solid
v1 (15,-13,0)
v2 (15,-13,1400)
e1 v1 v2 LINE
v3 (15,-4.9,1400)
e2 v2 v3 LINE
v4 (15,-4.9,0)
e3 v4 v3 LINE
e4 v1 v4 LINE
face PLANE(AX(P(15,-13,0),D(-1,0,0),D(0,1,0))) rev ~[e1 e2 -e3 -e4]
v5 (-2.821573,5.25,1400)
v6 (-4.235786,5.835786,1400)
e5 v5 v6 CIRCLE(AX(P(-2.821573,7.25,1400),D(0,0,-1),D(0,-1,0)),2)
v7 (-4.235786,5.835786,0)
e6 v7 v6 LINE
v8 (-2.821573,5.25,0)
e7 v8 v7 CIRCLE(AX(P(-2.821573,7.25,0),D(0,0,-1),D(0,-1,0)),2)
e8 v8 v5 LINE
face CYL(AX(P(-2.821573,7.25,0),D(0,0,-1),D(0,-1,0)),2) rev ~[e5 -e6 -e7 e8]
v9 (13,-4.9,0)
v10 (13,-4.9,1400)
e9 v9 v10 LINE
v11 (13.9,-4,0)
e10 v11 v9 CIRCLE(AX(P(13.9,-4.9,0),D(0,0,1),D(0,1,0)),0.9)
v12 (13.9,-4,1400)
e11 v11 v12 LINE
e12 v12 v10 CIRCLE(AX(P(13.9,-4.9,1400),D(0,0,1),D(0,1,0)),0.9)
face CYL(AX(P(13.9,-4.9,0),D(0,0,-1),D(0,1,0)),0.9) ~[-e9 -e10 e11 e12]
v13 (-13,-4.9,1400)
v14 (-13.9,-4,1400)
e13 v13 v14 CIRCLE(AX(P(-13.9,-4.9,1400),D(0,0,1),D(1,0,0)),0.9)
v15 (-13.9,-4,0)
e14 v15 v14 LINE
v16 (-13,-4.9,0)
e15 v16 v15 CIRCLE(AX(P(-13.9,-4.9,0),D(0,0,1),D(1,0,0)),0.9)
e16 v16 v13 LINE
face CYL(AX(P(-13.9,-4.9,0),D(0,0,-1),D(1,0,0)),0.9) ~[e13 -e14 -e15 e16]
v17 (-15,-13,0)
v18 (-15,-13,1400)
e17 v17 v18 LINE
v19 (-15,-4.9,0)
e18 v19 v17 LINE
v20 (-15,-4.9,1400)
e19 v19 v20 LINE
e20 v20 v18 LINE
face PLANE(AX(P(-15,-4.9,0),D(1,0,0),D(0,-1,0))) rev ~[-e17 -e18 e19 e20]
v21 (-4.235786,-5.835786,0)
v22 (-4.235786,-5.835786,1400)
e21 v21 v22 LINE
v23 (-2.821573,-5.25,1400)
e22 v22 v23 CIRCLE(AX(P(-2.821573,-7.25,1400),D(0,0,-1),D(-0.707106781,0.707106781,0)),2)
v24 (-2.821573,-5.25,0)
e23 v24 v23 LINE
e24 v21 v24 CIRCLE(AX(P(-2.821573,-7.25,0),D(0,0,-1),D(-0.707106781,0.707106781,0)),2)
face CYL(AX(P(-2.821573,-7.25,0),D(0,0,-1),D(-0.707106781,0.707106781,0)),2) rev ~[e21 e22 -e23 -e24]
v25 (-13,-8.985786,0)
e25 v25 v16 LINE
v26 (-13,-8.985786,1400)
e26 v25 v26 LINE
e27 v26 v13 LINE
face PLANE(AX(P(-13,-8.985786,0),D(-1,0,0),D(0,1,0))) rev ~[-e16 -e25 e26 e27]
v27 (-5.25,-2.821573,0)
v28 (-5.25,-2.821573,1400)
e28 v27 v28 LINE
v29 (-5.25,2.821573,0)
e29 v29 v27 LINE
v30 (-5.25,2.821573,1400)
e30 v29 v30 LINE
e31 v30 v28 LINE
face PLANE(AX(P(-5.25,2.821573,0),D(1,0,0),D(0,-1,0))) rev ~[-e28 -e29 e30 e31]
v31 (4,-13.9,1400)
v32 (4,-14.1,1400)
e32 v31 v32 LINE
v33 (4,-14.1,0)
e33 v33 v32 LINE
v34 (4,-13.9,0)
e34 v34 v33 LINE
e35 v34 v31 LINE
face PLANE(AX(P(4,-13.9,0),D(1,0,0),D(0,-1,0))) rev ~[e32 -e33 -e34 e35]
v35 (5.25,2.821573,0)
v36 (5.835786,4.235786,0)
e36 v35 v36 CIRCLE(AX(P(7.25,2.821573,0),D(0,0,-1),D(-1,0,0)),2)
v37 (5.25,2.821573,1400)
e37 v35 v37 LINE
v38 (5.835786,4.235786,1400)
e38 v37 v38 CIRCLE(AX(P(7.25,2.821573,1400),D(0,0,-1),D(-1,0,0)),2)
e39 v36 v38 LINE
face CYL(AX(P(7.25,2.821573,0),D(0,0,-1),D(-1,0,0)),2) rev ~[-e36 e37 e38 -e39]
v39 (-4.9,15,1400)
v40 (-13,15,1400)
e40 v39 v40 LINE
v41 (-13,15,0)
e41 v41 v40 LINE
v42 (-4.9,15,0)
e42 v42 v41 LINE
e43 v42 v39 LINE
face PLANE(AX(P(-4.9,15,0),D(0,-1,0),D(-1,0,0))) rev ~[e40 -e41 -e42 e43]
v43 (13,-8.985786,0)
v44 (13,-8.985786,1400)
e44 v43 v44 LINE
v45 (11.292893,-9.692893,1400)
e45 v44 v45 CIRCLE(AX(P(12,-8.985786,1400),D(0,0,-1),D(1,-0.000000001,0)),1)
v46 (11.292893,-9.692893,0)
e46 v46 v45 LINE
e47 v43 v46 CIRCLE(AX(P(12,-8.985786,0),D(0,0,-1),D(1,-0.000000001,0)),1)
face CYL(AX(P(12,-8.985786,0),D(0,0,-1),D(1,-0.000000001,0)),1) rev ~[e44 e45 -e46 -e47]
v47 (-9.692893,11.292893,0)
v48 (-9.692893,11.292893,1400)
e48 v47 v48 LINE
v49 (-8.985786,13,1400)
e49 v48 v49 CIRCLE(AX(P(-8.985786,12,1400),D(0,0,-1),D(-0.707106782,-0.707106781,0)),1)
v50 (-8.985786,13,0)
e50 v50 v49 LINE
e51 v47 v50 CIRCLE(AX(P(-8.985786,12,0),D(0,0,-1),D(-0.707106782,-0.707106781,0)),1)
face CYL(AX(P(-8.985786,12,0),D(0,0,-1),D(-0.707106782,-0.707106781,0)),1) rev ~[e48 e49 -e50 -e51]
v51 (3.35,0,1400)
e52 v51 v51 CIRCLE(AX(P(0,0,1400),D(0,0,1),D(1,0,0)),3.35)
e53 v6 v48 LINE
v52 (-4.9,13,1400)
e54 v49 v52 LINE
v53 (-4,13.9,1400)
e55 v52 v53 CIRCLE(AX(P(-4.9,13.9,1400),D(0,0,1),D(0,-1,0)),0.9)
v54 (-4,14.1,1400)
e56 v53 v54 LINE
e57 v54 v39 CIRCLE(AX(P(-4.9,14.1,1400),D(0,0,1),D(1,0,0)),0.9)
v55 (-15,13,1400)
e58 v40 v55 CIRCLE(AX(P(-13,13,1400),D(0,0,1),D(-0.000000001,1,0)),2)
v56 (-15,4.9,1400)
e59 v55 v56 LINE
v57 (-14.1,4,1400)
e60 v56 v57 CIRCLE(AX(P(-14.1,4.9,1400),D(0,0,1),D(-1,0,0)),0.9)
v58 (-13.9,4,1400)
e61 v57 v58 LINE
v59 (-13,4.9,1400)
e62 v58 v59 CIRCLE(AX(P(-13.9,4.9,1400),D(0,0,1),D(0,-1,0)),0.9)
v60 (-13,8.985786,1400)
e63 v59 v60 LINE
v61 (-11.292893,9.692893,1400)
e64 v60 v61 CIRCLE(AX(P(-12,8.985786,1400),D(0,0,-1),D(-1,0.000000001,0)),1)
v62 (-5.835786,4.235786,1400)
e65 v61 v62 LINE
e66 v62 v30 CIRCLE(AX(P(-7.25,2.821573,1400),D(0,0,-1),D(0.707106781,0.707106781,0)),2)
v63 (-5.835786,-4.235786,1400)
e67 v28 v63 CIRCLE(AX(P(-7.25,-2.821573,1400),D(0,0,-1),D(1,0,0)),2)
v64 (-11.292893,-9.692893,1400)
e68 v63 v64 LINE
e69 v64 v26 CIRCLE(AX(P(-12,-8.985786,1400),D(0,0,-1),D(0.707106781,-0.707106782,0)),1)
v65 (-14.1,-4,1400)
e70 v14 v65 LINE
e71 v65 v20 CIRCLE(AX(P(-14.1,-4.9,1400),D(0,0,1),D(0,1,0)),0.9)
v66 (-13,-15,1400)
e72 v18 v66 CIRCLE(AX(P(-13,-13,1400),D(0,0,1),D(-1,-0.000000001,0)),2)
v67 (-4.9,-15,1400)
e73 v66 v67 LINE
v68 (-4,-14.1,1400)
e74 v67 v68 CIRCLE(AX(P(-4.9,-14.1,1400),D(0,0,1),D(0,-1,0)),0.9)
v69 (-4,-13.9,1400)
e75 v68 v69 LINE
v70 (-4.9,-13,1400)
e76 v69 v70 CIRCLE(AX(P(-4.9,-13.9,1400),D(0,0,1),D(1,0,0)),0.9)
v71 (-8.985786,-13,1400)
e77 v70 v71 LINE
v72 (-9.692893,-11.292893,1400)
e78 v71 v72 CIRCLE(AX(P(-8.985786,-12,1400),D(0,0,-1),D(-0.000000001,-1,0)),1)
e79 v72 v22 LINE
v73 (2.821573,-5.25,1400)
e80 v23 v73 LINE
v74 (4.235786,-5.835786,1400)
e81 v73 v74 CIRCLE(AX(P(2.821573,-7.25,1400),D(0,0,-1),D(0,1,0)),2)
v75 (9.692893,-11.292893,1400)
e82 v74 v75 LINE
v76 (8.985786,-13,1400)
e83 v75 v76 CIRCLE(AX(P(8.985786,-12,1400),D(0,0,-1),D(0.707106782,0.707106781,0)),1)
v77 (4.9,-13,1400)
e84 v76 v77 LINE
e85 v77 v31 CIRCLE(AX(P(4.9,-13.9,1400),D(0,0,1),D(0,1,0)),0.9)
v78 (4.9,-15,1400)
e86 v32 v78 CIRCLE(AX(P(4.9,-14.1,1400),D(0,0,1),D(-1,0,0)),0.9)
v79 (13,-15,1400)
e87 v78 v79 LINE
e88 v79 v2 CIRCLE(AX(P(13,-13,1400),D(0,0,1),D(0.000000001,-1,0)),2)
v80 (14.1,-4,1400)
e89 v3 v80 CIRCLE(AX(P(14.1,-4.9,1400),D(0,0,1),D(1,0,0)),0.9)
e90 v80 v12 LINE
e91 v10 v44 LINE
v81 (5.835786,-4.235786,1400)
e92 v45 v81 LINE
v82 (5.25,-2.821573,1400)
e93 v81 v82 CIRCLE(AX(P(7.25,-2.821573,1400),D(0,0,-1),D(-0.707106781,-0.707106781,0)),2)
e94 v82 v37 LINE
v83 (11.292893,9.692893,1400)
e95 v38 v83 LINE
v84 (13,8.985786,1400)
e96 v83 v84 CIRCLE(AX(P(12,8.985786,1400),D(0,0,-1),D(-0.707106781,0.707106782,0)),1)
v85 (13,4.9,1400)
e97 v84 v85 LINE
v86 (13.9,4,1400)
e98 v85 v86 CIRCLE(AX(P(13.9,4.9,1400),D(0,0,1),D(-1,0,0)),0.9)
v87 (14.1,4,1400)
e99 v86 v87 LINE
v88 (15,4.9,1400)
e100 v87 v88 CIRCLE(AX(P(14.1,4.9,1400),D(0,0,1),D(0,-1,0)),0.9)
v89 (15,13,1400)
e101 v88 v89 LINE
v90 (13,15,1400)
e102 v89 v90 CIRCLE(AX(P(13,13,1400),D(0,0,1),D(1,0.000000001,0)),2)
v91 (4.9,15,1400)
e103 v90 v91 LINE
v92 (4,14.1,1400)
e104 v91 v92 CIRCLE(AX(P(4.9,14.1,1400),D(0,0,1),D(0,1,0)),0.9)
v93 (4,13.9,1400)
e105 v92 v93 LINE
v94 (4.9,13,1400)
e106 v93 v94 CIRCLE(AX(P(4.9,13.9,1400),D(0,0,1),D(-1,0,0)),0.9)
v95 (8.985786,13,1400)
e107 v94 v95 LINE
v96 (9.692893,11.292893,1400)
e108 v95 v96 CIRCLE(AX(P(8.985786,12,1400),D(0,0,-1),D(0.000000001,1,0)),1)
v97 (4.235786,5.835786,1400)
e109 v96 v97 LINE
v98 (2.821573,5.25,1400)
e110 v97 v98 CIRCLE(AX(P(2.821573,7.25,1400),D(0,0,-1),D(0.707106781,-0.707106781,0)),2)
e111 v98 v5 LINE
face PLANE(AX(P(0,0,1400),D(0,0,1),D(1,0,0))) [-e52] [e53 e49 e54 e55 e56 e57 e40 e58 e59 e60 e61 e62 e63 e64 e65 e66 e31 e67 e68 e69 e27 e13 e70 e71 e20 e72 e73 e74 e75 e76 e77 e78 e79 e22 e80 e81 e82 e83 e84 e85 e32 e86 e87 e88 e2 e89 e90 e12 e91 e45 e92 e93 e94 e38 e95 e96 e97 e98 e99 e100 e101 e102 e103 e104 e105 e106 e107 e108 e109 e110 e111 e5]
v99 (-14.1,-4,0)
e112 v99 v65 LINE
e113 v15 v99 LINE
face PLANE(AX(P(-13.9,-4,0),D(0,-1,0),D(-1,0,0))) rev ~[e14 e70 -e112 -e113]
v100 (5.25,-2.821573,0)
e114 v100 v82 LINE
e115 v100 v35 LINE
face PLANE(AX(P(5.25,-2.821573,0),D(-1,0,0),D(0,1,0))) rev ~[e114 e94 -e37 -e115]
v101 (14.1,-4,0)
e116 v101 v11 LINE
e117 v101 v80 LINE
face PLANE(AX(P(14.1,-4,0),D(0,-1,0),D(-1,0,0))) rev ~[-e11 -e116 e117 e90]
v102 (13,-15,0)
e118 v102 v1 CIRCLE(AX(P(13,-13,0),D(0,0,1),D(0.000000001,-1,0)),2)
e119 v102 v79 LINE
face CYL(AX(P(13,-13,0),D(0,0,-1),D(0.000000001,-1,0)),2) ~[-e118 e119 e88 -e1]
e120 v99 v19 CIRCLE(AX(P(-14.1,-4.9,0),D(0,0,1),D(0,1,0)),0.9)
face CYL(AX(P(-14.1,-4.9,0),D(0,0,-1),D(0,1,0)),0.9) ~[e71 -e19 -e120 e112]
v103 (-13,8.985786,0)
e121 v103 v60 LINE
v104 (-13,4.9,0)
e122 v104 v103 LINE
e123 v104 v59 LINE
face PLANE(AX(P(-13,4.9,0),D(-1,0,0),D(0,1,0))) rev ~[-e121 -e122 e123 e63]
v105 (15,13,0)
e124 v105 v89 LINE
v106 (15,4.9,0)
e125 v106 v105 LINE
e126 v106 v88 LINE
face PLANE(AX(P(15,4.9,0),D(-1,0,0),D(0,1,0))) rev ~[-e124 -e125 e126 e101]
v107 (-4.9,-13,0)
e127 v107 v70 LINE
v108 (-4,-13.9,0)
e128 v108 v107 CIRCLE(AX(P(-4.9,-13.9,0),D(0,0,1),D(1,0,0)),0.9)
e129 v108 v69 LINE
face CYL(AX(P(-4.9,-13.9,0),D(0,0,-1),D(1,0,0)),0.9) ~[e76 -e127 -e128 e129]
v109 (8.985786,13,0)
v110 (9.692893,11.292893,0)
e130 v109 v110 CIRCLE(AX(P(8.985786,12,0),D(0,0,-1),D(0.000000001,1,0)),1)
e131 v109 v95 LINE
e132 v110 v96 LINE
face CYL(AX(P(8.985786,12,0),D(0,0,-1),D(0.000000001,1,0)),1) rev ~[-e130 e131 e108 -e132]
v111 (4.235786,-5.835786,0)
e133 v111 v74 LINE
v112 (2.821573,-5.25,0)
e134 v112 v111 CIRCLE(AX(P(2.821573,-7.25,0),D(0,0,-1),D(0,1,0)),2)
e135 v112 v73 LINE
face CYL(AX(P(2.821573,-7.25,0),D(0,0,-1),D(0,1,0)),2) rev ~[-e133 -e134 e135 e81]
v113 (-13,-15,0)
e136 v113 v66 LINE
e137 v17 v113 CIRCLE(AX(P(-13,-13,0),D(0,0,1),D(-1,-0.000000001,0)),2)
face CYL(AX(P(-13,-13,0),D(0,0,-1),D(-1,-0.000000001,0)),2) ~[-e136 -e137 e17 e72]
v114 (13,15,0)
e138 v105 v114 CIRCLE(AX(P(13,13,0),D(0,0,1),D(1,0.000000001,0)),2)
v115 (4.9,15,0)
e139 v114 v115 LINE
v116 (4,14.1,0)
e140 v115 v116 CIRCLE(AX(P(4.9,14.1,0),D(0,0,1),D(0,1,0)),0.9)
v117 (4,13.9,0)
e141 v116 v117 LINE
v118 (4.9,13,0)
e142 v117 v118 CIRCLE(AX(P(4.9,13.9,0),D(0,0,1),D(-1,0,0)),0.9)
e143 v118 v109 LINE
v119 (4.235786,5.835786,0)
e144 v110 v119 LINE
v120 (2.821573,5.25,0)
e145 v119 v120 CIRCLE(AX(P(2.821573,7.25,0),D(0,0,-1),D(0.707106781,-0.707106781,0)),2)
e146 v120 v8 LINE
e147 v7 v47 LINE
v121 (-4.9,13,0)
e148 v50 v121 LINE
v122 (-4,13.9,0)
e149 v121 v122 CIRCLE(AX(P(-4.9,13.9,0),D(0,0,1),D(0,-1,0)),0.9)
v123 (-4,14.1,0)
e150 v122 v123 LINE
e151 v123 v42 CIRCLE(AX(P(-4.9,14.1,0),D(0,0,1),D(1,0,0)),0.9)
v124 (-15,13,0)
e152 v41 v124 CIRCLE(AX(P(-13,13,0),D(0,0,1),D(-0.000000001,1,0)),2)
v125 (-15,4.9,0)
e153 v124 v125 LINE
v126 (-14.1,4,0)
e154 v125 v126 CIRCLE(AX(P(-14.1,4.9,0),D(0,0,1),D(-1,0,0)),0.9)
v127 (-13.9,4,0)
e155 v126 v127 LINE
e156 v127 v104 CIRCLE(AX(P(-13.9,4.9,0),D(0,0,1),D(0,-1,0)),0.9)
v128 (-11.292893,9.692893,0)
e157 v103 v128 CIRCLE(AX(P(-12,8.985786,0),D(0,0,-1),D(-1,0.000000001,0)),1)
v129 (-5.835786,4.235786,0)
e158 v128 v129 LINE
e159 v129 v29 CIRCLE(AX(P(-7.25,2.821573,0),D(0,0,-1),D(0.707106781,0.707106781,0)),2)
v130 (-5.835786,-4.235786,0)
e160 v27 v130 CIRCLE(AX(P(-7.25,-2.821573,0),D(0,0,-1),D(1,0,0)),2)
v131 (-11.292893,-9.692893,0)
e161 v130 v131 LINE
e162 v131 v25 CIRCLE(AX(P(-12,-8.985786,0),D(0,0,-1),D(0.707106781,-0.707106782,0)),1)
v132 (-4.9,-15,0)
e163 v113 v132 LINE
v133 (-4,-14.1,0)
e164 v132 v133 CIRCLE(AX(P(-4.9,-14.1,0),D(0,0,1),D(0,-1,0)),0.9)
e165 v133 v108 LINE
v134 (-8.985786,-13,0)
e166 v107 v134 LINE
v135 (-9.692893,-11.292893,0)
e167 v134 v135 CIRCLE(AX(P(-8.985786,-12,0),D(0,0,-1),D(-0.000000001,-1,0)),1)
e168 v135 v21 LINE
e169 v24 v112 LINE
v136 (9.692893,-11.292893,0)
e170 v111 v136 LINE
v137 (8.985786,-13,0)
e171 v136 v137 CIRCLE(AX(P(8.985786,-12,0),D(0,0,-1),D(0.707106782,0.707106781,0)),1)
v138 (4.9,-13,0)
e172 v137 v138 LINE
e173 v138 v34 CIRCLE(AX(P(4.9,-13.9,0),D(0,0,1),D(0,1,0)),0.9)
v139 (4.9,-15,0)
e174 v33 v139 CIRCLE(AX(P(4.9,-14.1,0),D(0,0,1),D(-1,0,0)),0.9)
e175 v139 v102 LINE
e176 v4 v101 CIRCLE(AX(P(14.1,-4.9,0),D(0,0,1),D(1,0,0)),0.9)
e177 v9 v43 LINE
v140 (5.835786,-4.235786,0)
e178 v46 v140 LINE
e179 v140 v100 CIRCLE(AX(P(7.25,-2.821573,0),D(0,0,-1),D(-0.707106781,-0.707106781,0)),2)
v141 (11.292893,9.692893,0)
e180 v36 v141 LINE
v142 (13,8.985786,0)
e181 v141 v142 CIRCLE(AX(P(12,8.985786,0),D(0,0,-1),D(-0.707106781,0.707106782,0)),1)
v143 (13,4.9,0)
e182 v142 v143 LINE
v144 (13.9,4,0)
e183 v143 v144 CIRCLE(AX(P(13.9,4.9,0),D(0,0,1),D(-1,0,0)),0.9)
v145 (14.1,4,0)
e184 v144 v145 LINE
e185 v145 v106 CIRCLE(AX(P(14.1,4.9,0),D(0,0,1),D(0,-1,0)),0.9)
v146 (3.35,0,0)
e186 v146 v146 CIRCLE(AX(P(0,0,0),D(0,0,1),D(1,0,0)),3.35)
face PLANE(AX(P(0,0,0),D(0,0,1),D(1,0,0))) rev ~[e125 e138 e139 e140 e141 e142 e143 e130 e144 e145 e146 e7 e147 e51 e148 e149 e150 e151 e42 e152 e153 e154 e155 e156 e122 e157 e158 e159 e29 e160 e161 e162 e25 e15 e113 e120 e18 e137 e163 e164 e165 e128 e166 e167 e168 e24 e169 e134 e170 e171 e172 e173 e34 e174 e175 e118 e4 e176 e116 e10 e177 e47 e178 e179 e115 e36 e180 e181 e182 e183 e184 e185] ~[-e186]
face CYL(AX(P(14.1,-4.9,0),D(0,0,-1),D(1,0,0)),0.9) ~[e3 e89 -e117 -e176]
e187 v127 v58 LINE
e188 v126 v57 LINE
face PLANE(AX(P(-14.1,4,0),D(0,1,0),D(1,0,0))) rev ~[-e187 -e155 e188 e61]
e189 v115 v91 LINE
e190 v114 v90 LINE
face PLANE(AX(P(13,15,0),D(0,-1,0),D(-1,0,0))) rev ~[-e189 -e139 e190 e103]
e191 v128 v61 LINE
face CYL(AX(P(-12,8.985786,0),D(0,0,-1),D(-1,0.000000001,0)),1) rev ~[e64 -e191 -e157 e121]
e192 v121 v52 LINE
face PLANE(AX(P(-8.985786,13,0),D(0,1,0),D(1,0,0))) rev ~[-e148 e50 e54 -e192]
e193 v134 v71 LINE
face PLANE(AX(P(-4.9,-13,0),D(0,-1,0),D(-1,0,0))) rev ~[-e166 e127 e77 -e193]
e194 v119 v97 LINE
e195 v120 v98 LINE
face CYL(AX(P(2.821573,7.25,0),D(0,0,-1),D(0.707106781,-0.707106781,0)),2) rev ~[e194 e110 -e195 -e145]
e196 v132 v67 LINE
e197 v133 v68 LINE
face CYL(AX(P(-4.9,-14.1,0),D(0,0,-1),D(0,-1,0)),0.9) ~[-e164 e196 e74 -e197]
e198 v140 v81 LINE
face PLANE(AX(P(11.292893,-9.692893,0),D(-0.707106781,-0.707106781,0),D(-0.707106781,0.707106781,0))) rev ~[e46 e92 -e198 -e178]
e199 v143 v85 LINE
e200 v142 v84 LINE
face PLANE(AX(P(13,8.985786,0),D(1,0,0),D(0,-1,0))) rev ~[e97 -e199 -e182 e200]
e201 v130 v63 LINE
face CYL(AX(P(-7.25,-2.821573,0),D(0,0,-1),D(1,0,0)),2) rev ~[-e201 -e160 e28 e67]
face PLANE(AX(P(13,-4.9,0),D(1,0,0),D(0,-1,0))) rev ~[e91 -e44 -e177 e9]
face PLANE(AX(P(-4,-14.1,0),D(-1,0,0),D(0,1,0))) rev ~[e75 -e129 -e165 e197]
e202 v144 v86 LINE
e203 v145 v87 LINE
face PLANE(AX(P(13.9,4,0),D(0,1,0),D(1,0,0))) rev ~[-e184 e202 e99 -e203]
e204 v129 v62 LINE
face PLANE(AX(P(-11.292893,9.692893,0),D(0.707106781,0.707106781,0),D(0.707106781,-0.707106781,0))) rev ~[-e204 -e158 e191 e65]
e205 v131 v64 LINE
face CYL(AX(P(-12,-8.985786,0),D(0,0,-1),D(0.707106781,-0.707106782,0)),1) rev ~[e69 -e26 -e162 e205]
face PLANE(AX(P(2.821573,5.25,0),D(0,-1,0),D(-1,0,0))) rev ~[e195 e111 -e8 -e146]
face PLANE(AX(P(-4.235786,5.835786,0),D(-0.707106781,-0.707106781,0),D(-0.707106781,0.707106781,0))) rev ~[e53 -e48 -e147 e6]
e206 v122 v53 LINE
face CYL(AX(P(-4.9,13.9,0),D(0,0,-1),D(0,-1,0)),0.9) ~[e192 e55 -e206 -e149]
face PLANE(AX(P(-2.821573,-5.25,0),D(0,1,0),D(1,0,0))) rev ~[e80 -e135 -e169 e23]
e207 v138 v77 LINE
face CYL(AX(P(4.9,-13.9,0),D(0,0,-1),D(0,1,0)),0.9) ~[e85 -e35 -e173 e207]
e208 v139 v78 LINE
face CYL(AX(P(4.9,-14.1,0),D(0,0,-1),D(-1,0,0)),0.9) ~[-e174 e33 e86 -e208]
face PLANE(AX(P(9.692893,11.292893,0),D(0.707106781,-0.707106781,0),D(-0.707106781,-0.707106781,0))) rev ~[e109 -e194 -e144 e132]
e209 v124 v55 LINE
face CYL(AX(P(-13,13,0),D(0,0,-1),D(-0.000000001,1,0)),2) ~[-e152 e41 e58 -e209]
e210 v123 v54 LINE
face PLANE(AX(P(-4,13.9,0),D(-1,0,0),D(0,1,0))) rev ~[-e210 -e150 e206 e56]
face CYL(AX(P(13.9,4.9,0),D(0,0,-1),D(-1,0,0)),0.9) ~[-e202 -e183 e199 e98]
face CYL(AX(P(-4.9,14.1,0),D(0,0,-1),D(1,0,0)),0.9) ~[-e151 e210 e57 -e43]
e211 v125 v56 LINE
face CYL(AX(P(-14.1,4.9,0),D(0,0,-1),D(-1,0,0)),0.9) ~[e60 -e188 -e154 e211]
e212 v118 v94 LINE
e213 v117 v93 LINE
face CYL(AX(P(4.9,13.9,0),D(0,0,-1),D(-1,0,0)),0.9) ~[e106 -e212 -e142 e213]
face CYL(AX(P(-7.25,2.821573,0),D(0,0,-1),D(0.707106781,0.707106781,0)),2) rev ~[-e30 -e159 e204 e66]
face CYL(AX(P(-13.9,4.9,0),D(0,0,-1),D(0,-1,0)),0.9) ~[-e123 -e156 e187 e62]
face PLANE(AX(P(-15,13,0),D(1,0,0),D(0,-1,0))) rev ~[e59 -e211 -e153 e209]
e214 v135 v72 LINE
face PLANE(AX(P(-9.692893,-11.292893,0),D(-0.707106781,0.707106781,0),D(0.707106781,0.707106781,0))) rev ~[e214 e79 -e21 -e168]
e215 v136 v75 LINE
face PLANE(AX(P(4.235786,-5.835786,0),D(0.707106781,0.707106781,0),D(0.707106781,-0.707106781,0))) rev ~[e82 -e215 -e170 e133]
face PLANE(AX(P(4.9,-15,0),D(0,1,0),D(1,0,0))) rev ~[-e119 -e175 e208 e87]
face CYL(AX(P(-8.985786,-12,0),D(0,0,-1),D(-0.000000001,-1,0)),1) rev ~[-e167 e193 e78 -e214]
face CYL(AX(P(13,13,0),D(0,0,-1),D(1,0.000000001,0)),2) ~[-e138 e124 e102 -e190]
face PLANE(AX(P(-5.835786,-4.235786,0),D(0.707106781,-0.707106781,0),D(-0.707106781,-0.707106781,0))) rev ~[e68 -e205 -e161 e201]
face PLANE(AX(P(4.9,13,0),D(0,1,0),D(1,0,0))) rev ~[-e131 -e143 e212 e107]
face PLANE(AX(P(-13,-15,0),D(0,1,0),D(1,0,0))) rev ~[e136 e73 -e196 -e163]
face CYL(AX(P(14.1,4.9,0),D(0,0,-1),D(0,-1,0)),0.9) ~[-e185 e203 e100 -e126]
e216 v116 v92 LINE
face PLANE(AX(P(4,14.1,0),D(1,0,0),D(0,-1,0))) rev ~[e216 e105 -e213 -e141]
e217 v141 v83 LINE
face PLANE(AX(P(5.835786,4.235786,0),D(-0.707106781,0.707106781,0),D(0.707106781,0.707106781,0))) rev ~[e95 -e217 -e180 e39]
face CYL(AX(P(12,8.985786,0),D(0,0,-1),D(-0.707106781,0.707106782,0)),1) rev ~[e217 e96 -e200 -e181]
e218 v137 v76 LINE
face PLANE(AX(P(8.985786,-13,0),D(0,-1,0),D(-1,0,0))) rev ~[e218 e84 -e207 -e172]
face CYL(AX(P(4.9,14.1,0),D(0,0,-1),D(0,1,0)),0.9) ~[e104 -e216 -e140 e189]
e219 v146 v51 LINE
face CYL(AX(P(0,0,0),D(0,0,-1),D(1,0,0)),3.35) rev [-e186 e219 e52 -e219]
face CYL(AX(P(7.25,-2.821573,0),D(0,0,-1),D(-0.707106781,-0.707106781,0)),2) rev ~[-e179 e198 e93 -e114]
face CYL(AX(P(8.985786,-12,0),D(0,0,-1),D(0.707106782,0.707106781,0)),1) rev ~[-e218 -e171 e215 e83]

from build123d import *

# Parameters (mm, degrees)
SKETCH_1_R      = 3.35
EXTRUDE_1_DEPTH = 1400


with BuildPart() as part:
    # 草图1 → 凸台-拉伸1 (new body)
    with BuildSketch(Plane.XY):
        with BuildLine():
            Line((14.1, -4), (13.9, -4))
            ThreePointArc((13.9, -4), (13.263603897, -4.263603897), (13, -4.9))
            Line((13, -4.9), (13, -8.985786438))
            ThreePointArc((13, -8.985786438), (12.382683432, -9.90966597), (11.292893219, -9.692893219))
            Line((11.292893219, -9.692893219), (5.835786438, -4.235786438))
            ThreePointArc((5.835786438, -4.235786438), (5.402240935, -3.58693974), (5.25, -2.821572875))
            Line((5.25, -2.821572875), (5.25, 2.821572875))
            ThreePointArc((5.25, 2.821572875), (5.402240935, 3.58693974), (5.835786438, 4.235786438))
            Line((5.835786438, 4.235786438), (11.292893219, 9.692893219))
            ThreePointArc((11.292893219, 9.692893219), (12.382683432, 9.90966597), (13, 8.985786438))
            Line((13, 8.985786438), (13, 4.9))
            ThreePointArc((13, 4.9), (13.263603897, 4.263603897), (13.9, 4))
            Line((13.9, 4), (14.1, 4))
            ThreePointArc((14.1, 4), (14.736396103, 4.263603897), (15, 4.9))
            Line((15, 4.9), (15, 13))
            ThreePointArc((15, 13), (14.414213562, 14.414213562), (13, 15))
            Line((13, 15), (4.9, 15))
            ThreePointArc((4.9, 15), (4.263603897, 14.736396103), (4, 14.1))
            Line((4, 14.1), (4, 13.9))
            ThreePointArc((4, 13.9), (4.263603897, 13.263603897), (4.9, 13))
            Line((4.9, 13), (8.985786438, 13))
            ThreePointArc((8.985786438, 13), (9.90966597, 12.382683432), (9.692893219, 11.292893219))
            Line((9.692893219, 11.292893219), (4.235786438, 5.835786438))
            ThreePointArc((4.235786438, 5.835786438), (3.58693974, 5.402240935), (2.821572875, 5.25))
            Line((2.821572875, 5.25), (-2.821572875, 5.25))
            ThreePointArc((-2.821572875, 5.25), (-3.58693974, 5.402240935), (-4.235786438, 5.835786438))
            Line((-4.235786438, 5.835786438), (-9.692893219, 11.292893219))
            ThreePointArc((-9.692893219, 11.292893219), (-9.90966597, 12.382683432), (-8.985786438, 13))
            Line((-8.985786438, 13), (-4.9, 13))
            ThreePointArc((-4.9, 13), (-4.263603897, 13.263603897), (-4, 13.9))
            Line((-4, 13.9), (-4, 14.1))
            ThreePointArc((-4, 14.1), (-4.263603897, 14.736396103), (-4.9, 15))
            Line((-4.9, 15), (-13, 15))
            ThreePointArc((-13, 15), (-14.414213562, 14.414213562), (-15, 13))
            Line((-15, 13), (-15, 4.9))
            ThreePointArc((-15, 4.9), (-14.736396103, 4.263603897), (-14.1, 4))
            Line((-14.1, 4), (-13.9, 4))
            ThreePointArc((-13.9, 4), (-13.263603897, 4.263603897), (-13, 4.9))
            Line((-13, 4.9), (-13, 8.985786438))
            ThreePointArc((-13, 8.985786438), (-12.382683432, 9.90966597), (-11.292893219, 9.692893219))
            Line((-11.292893219, 9.692893219), (-5.835786438, 4.235786438))
            ThreePointArc((-5.835786438, 4.235786438), (-5.402240935, 3.58693974), (-5.25, 2.821572875))
            Line((-5.25, 2.821572875), (-5.25, -2.821572875))
            ThreePointArc((-5.25, -2.821572875), (-5.402240935, -3.58693974), (-5.835786438, -4.235786438))
            Line((-5.835786438, -4.235786438), (-11.292893219, -9.692893219))
            ThreePointArc((-11.292893219, -9.692893219), (-12.382683432, -9.90966597), (-13, -8.985786438))
            Line((-13, -8.985786438), (-13, -4.9))
            ThreePointArc((-13, -4.9), (-13.263603897, -4.263603897), (-13.9, -4))
            Line((-13.9, -4), (-14.1, -4))
            ThreePointArc((-14.1, -4), (-14.736396103, -4.263603897), (-15, -4.9))
            Line((-15, -4.9), (-15, -13))
            ThreePointArc((-15, -13), (-14.414213562, -14.414213562), (-13, -15))
            Line((-13, -15), (-4.9, -15))
            ThreePointArc((-4.9, -15), (-4.263603897, -14.736396103), (-4, -14.1))
            Line((-4, -14.1), (-4, -13.9))
            ThreePointArc((-4, -13.9), (-4.263603897, -13.263603897), (-4.9, -13))
            Line((-4.9, -13), (-8.985786438, -13))
            ThreePointArc((-8.985786438, -13), (-9.90966597, -12.382683432), (-9.692893219, -11.292893219))
            Line((-9.692893219, -11.292893219), (-4.235786438, -5.835786438))
            ThreePointArc((-4.235786438, -5.835786438), (-3.58693974, -5.402240935), (-2.821572875, -5.25))
            Line((-2.821572875, -5.25), (2.821572875, -5.25))
            ThreePointArc((2.821572875, -5.25), (3.58693974, -5.402240935), (4.235786438, -5.835786438))
            Line((4.235786438, -5.835786438), (9.692893219, -11.292893219))
            ThreePointArc((9.692893219, -11.292893219), (9.90966597, -12.382683432), (8.985786438, -13))
            Line((8.985786438, -13), (4.9, -13))
            ThreePointArc((4.9, -13), (4.263603897, -13.263603897), (4, -13.9))
            Line((4, -13.9), (4, -14.1))
            ThreePointArc((4, -14.1), (4.263603897, -14.736396103), (4.9, -15))
            Line((4.9, -15), (13, -15))
            ThreePointArc((13, -15), (14.414213562, -14.414213562), (15, -13))
            Line((15, -13), (15, -4.9))
            ThreePointArc((15, -4.9), (14.736396103, -4.263603897), (14.1, -4))
        make_face()
        Circle(SKETCH_1_R, mode=Mode.SUBTRACT)
    extrude(amount=EXTRUDE_1_DEPTH)


solid = part.part
